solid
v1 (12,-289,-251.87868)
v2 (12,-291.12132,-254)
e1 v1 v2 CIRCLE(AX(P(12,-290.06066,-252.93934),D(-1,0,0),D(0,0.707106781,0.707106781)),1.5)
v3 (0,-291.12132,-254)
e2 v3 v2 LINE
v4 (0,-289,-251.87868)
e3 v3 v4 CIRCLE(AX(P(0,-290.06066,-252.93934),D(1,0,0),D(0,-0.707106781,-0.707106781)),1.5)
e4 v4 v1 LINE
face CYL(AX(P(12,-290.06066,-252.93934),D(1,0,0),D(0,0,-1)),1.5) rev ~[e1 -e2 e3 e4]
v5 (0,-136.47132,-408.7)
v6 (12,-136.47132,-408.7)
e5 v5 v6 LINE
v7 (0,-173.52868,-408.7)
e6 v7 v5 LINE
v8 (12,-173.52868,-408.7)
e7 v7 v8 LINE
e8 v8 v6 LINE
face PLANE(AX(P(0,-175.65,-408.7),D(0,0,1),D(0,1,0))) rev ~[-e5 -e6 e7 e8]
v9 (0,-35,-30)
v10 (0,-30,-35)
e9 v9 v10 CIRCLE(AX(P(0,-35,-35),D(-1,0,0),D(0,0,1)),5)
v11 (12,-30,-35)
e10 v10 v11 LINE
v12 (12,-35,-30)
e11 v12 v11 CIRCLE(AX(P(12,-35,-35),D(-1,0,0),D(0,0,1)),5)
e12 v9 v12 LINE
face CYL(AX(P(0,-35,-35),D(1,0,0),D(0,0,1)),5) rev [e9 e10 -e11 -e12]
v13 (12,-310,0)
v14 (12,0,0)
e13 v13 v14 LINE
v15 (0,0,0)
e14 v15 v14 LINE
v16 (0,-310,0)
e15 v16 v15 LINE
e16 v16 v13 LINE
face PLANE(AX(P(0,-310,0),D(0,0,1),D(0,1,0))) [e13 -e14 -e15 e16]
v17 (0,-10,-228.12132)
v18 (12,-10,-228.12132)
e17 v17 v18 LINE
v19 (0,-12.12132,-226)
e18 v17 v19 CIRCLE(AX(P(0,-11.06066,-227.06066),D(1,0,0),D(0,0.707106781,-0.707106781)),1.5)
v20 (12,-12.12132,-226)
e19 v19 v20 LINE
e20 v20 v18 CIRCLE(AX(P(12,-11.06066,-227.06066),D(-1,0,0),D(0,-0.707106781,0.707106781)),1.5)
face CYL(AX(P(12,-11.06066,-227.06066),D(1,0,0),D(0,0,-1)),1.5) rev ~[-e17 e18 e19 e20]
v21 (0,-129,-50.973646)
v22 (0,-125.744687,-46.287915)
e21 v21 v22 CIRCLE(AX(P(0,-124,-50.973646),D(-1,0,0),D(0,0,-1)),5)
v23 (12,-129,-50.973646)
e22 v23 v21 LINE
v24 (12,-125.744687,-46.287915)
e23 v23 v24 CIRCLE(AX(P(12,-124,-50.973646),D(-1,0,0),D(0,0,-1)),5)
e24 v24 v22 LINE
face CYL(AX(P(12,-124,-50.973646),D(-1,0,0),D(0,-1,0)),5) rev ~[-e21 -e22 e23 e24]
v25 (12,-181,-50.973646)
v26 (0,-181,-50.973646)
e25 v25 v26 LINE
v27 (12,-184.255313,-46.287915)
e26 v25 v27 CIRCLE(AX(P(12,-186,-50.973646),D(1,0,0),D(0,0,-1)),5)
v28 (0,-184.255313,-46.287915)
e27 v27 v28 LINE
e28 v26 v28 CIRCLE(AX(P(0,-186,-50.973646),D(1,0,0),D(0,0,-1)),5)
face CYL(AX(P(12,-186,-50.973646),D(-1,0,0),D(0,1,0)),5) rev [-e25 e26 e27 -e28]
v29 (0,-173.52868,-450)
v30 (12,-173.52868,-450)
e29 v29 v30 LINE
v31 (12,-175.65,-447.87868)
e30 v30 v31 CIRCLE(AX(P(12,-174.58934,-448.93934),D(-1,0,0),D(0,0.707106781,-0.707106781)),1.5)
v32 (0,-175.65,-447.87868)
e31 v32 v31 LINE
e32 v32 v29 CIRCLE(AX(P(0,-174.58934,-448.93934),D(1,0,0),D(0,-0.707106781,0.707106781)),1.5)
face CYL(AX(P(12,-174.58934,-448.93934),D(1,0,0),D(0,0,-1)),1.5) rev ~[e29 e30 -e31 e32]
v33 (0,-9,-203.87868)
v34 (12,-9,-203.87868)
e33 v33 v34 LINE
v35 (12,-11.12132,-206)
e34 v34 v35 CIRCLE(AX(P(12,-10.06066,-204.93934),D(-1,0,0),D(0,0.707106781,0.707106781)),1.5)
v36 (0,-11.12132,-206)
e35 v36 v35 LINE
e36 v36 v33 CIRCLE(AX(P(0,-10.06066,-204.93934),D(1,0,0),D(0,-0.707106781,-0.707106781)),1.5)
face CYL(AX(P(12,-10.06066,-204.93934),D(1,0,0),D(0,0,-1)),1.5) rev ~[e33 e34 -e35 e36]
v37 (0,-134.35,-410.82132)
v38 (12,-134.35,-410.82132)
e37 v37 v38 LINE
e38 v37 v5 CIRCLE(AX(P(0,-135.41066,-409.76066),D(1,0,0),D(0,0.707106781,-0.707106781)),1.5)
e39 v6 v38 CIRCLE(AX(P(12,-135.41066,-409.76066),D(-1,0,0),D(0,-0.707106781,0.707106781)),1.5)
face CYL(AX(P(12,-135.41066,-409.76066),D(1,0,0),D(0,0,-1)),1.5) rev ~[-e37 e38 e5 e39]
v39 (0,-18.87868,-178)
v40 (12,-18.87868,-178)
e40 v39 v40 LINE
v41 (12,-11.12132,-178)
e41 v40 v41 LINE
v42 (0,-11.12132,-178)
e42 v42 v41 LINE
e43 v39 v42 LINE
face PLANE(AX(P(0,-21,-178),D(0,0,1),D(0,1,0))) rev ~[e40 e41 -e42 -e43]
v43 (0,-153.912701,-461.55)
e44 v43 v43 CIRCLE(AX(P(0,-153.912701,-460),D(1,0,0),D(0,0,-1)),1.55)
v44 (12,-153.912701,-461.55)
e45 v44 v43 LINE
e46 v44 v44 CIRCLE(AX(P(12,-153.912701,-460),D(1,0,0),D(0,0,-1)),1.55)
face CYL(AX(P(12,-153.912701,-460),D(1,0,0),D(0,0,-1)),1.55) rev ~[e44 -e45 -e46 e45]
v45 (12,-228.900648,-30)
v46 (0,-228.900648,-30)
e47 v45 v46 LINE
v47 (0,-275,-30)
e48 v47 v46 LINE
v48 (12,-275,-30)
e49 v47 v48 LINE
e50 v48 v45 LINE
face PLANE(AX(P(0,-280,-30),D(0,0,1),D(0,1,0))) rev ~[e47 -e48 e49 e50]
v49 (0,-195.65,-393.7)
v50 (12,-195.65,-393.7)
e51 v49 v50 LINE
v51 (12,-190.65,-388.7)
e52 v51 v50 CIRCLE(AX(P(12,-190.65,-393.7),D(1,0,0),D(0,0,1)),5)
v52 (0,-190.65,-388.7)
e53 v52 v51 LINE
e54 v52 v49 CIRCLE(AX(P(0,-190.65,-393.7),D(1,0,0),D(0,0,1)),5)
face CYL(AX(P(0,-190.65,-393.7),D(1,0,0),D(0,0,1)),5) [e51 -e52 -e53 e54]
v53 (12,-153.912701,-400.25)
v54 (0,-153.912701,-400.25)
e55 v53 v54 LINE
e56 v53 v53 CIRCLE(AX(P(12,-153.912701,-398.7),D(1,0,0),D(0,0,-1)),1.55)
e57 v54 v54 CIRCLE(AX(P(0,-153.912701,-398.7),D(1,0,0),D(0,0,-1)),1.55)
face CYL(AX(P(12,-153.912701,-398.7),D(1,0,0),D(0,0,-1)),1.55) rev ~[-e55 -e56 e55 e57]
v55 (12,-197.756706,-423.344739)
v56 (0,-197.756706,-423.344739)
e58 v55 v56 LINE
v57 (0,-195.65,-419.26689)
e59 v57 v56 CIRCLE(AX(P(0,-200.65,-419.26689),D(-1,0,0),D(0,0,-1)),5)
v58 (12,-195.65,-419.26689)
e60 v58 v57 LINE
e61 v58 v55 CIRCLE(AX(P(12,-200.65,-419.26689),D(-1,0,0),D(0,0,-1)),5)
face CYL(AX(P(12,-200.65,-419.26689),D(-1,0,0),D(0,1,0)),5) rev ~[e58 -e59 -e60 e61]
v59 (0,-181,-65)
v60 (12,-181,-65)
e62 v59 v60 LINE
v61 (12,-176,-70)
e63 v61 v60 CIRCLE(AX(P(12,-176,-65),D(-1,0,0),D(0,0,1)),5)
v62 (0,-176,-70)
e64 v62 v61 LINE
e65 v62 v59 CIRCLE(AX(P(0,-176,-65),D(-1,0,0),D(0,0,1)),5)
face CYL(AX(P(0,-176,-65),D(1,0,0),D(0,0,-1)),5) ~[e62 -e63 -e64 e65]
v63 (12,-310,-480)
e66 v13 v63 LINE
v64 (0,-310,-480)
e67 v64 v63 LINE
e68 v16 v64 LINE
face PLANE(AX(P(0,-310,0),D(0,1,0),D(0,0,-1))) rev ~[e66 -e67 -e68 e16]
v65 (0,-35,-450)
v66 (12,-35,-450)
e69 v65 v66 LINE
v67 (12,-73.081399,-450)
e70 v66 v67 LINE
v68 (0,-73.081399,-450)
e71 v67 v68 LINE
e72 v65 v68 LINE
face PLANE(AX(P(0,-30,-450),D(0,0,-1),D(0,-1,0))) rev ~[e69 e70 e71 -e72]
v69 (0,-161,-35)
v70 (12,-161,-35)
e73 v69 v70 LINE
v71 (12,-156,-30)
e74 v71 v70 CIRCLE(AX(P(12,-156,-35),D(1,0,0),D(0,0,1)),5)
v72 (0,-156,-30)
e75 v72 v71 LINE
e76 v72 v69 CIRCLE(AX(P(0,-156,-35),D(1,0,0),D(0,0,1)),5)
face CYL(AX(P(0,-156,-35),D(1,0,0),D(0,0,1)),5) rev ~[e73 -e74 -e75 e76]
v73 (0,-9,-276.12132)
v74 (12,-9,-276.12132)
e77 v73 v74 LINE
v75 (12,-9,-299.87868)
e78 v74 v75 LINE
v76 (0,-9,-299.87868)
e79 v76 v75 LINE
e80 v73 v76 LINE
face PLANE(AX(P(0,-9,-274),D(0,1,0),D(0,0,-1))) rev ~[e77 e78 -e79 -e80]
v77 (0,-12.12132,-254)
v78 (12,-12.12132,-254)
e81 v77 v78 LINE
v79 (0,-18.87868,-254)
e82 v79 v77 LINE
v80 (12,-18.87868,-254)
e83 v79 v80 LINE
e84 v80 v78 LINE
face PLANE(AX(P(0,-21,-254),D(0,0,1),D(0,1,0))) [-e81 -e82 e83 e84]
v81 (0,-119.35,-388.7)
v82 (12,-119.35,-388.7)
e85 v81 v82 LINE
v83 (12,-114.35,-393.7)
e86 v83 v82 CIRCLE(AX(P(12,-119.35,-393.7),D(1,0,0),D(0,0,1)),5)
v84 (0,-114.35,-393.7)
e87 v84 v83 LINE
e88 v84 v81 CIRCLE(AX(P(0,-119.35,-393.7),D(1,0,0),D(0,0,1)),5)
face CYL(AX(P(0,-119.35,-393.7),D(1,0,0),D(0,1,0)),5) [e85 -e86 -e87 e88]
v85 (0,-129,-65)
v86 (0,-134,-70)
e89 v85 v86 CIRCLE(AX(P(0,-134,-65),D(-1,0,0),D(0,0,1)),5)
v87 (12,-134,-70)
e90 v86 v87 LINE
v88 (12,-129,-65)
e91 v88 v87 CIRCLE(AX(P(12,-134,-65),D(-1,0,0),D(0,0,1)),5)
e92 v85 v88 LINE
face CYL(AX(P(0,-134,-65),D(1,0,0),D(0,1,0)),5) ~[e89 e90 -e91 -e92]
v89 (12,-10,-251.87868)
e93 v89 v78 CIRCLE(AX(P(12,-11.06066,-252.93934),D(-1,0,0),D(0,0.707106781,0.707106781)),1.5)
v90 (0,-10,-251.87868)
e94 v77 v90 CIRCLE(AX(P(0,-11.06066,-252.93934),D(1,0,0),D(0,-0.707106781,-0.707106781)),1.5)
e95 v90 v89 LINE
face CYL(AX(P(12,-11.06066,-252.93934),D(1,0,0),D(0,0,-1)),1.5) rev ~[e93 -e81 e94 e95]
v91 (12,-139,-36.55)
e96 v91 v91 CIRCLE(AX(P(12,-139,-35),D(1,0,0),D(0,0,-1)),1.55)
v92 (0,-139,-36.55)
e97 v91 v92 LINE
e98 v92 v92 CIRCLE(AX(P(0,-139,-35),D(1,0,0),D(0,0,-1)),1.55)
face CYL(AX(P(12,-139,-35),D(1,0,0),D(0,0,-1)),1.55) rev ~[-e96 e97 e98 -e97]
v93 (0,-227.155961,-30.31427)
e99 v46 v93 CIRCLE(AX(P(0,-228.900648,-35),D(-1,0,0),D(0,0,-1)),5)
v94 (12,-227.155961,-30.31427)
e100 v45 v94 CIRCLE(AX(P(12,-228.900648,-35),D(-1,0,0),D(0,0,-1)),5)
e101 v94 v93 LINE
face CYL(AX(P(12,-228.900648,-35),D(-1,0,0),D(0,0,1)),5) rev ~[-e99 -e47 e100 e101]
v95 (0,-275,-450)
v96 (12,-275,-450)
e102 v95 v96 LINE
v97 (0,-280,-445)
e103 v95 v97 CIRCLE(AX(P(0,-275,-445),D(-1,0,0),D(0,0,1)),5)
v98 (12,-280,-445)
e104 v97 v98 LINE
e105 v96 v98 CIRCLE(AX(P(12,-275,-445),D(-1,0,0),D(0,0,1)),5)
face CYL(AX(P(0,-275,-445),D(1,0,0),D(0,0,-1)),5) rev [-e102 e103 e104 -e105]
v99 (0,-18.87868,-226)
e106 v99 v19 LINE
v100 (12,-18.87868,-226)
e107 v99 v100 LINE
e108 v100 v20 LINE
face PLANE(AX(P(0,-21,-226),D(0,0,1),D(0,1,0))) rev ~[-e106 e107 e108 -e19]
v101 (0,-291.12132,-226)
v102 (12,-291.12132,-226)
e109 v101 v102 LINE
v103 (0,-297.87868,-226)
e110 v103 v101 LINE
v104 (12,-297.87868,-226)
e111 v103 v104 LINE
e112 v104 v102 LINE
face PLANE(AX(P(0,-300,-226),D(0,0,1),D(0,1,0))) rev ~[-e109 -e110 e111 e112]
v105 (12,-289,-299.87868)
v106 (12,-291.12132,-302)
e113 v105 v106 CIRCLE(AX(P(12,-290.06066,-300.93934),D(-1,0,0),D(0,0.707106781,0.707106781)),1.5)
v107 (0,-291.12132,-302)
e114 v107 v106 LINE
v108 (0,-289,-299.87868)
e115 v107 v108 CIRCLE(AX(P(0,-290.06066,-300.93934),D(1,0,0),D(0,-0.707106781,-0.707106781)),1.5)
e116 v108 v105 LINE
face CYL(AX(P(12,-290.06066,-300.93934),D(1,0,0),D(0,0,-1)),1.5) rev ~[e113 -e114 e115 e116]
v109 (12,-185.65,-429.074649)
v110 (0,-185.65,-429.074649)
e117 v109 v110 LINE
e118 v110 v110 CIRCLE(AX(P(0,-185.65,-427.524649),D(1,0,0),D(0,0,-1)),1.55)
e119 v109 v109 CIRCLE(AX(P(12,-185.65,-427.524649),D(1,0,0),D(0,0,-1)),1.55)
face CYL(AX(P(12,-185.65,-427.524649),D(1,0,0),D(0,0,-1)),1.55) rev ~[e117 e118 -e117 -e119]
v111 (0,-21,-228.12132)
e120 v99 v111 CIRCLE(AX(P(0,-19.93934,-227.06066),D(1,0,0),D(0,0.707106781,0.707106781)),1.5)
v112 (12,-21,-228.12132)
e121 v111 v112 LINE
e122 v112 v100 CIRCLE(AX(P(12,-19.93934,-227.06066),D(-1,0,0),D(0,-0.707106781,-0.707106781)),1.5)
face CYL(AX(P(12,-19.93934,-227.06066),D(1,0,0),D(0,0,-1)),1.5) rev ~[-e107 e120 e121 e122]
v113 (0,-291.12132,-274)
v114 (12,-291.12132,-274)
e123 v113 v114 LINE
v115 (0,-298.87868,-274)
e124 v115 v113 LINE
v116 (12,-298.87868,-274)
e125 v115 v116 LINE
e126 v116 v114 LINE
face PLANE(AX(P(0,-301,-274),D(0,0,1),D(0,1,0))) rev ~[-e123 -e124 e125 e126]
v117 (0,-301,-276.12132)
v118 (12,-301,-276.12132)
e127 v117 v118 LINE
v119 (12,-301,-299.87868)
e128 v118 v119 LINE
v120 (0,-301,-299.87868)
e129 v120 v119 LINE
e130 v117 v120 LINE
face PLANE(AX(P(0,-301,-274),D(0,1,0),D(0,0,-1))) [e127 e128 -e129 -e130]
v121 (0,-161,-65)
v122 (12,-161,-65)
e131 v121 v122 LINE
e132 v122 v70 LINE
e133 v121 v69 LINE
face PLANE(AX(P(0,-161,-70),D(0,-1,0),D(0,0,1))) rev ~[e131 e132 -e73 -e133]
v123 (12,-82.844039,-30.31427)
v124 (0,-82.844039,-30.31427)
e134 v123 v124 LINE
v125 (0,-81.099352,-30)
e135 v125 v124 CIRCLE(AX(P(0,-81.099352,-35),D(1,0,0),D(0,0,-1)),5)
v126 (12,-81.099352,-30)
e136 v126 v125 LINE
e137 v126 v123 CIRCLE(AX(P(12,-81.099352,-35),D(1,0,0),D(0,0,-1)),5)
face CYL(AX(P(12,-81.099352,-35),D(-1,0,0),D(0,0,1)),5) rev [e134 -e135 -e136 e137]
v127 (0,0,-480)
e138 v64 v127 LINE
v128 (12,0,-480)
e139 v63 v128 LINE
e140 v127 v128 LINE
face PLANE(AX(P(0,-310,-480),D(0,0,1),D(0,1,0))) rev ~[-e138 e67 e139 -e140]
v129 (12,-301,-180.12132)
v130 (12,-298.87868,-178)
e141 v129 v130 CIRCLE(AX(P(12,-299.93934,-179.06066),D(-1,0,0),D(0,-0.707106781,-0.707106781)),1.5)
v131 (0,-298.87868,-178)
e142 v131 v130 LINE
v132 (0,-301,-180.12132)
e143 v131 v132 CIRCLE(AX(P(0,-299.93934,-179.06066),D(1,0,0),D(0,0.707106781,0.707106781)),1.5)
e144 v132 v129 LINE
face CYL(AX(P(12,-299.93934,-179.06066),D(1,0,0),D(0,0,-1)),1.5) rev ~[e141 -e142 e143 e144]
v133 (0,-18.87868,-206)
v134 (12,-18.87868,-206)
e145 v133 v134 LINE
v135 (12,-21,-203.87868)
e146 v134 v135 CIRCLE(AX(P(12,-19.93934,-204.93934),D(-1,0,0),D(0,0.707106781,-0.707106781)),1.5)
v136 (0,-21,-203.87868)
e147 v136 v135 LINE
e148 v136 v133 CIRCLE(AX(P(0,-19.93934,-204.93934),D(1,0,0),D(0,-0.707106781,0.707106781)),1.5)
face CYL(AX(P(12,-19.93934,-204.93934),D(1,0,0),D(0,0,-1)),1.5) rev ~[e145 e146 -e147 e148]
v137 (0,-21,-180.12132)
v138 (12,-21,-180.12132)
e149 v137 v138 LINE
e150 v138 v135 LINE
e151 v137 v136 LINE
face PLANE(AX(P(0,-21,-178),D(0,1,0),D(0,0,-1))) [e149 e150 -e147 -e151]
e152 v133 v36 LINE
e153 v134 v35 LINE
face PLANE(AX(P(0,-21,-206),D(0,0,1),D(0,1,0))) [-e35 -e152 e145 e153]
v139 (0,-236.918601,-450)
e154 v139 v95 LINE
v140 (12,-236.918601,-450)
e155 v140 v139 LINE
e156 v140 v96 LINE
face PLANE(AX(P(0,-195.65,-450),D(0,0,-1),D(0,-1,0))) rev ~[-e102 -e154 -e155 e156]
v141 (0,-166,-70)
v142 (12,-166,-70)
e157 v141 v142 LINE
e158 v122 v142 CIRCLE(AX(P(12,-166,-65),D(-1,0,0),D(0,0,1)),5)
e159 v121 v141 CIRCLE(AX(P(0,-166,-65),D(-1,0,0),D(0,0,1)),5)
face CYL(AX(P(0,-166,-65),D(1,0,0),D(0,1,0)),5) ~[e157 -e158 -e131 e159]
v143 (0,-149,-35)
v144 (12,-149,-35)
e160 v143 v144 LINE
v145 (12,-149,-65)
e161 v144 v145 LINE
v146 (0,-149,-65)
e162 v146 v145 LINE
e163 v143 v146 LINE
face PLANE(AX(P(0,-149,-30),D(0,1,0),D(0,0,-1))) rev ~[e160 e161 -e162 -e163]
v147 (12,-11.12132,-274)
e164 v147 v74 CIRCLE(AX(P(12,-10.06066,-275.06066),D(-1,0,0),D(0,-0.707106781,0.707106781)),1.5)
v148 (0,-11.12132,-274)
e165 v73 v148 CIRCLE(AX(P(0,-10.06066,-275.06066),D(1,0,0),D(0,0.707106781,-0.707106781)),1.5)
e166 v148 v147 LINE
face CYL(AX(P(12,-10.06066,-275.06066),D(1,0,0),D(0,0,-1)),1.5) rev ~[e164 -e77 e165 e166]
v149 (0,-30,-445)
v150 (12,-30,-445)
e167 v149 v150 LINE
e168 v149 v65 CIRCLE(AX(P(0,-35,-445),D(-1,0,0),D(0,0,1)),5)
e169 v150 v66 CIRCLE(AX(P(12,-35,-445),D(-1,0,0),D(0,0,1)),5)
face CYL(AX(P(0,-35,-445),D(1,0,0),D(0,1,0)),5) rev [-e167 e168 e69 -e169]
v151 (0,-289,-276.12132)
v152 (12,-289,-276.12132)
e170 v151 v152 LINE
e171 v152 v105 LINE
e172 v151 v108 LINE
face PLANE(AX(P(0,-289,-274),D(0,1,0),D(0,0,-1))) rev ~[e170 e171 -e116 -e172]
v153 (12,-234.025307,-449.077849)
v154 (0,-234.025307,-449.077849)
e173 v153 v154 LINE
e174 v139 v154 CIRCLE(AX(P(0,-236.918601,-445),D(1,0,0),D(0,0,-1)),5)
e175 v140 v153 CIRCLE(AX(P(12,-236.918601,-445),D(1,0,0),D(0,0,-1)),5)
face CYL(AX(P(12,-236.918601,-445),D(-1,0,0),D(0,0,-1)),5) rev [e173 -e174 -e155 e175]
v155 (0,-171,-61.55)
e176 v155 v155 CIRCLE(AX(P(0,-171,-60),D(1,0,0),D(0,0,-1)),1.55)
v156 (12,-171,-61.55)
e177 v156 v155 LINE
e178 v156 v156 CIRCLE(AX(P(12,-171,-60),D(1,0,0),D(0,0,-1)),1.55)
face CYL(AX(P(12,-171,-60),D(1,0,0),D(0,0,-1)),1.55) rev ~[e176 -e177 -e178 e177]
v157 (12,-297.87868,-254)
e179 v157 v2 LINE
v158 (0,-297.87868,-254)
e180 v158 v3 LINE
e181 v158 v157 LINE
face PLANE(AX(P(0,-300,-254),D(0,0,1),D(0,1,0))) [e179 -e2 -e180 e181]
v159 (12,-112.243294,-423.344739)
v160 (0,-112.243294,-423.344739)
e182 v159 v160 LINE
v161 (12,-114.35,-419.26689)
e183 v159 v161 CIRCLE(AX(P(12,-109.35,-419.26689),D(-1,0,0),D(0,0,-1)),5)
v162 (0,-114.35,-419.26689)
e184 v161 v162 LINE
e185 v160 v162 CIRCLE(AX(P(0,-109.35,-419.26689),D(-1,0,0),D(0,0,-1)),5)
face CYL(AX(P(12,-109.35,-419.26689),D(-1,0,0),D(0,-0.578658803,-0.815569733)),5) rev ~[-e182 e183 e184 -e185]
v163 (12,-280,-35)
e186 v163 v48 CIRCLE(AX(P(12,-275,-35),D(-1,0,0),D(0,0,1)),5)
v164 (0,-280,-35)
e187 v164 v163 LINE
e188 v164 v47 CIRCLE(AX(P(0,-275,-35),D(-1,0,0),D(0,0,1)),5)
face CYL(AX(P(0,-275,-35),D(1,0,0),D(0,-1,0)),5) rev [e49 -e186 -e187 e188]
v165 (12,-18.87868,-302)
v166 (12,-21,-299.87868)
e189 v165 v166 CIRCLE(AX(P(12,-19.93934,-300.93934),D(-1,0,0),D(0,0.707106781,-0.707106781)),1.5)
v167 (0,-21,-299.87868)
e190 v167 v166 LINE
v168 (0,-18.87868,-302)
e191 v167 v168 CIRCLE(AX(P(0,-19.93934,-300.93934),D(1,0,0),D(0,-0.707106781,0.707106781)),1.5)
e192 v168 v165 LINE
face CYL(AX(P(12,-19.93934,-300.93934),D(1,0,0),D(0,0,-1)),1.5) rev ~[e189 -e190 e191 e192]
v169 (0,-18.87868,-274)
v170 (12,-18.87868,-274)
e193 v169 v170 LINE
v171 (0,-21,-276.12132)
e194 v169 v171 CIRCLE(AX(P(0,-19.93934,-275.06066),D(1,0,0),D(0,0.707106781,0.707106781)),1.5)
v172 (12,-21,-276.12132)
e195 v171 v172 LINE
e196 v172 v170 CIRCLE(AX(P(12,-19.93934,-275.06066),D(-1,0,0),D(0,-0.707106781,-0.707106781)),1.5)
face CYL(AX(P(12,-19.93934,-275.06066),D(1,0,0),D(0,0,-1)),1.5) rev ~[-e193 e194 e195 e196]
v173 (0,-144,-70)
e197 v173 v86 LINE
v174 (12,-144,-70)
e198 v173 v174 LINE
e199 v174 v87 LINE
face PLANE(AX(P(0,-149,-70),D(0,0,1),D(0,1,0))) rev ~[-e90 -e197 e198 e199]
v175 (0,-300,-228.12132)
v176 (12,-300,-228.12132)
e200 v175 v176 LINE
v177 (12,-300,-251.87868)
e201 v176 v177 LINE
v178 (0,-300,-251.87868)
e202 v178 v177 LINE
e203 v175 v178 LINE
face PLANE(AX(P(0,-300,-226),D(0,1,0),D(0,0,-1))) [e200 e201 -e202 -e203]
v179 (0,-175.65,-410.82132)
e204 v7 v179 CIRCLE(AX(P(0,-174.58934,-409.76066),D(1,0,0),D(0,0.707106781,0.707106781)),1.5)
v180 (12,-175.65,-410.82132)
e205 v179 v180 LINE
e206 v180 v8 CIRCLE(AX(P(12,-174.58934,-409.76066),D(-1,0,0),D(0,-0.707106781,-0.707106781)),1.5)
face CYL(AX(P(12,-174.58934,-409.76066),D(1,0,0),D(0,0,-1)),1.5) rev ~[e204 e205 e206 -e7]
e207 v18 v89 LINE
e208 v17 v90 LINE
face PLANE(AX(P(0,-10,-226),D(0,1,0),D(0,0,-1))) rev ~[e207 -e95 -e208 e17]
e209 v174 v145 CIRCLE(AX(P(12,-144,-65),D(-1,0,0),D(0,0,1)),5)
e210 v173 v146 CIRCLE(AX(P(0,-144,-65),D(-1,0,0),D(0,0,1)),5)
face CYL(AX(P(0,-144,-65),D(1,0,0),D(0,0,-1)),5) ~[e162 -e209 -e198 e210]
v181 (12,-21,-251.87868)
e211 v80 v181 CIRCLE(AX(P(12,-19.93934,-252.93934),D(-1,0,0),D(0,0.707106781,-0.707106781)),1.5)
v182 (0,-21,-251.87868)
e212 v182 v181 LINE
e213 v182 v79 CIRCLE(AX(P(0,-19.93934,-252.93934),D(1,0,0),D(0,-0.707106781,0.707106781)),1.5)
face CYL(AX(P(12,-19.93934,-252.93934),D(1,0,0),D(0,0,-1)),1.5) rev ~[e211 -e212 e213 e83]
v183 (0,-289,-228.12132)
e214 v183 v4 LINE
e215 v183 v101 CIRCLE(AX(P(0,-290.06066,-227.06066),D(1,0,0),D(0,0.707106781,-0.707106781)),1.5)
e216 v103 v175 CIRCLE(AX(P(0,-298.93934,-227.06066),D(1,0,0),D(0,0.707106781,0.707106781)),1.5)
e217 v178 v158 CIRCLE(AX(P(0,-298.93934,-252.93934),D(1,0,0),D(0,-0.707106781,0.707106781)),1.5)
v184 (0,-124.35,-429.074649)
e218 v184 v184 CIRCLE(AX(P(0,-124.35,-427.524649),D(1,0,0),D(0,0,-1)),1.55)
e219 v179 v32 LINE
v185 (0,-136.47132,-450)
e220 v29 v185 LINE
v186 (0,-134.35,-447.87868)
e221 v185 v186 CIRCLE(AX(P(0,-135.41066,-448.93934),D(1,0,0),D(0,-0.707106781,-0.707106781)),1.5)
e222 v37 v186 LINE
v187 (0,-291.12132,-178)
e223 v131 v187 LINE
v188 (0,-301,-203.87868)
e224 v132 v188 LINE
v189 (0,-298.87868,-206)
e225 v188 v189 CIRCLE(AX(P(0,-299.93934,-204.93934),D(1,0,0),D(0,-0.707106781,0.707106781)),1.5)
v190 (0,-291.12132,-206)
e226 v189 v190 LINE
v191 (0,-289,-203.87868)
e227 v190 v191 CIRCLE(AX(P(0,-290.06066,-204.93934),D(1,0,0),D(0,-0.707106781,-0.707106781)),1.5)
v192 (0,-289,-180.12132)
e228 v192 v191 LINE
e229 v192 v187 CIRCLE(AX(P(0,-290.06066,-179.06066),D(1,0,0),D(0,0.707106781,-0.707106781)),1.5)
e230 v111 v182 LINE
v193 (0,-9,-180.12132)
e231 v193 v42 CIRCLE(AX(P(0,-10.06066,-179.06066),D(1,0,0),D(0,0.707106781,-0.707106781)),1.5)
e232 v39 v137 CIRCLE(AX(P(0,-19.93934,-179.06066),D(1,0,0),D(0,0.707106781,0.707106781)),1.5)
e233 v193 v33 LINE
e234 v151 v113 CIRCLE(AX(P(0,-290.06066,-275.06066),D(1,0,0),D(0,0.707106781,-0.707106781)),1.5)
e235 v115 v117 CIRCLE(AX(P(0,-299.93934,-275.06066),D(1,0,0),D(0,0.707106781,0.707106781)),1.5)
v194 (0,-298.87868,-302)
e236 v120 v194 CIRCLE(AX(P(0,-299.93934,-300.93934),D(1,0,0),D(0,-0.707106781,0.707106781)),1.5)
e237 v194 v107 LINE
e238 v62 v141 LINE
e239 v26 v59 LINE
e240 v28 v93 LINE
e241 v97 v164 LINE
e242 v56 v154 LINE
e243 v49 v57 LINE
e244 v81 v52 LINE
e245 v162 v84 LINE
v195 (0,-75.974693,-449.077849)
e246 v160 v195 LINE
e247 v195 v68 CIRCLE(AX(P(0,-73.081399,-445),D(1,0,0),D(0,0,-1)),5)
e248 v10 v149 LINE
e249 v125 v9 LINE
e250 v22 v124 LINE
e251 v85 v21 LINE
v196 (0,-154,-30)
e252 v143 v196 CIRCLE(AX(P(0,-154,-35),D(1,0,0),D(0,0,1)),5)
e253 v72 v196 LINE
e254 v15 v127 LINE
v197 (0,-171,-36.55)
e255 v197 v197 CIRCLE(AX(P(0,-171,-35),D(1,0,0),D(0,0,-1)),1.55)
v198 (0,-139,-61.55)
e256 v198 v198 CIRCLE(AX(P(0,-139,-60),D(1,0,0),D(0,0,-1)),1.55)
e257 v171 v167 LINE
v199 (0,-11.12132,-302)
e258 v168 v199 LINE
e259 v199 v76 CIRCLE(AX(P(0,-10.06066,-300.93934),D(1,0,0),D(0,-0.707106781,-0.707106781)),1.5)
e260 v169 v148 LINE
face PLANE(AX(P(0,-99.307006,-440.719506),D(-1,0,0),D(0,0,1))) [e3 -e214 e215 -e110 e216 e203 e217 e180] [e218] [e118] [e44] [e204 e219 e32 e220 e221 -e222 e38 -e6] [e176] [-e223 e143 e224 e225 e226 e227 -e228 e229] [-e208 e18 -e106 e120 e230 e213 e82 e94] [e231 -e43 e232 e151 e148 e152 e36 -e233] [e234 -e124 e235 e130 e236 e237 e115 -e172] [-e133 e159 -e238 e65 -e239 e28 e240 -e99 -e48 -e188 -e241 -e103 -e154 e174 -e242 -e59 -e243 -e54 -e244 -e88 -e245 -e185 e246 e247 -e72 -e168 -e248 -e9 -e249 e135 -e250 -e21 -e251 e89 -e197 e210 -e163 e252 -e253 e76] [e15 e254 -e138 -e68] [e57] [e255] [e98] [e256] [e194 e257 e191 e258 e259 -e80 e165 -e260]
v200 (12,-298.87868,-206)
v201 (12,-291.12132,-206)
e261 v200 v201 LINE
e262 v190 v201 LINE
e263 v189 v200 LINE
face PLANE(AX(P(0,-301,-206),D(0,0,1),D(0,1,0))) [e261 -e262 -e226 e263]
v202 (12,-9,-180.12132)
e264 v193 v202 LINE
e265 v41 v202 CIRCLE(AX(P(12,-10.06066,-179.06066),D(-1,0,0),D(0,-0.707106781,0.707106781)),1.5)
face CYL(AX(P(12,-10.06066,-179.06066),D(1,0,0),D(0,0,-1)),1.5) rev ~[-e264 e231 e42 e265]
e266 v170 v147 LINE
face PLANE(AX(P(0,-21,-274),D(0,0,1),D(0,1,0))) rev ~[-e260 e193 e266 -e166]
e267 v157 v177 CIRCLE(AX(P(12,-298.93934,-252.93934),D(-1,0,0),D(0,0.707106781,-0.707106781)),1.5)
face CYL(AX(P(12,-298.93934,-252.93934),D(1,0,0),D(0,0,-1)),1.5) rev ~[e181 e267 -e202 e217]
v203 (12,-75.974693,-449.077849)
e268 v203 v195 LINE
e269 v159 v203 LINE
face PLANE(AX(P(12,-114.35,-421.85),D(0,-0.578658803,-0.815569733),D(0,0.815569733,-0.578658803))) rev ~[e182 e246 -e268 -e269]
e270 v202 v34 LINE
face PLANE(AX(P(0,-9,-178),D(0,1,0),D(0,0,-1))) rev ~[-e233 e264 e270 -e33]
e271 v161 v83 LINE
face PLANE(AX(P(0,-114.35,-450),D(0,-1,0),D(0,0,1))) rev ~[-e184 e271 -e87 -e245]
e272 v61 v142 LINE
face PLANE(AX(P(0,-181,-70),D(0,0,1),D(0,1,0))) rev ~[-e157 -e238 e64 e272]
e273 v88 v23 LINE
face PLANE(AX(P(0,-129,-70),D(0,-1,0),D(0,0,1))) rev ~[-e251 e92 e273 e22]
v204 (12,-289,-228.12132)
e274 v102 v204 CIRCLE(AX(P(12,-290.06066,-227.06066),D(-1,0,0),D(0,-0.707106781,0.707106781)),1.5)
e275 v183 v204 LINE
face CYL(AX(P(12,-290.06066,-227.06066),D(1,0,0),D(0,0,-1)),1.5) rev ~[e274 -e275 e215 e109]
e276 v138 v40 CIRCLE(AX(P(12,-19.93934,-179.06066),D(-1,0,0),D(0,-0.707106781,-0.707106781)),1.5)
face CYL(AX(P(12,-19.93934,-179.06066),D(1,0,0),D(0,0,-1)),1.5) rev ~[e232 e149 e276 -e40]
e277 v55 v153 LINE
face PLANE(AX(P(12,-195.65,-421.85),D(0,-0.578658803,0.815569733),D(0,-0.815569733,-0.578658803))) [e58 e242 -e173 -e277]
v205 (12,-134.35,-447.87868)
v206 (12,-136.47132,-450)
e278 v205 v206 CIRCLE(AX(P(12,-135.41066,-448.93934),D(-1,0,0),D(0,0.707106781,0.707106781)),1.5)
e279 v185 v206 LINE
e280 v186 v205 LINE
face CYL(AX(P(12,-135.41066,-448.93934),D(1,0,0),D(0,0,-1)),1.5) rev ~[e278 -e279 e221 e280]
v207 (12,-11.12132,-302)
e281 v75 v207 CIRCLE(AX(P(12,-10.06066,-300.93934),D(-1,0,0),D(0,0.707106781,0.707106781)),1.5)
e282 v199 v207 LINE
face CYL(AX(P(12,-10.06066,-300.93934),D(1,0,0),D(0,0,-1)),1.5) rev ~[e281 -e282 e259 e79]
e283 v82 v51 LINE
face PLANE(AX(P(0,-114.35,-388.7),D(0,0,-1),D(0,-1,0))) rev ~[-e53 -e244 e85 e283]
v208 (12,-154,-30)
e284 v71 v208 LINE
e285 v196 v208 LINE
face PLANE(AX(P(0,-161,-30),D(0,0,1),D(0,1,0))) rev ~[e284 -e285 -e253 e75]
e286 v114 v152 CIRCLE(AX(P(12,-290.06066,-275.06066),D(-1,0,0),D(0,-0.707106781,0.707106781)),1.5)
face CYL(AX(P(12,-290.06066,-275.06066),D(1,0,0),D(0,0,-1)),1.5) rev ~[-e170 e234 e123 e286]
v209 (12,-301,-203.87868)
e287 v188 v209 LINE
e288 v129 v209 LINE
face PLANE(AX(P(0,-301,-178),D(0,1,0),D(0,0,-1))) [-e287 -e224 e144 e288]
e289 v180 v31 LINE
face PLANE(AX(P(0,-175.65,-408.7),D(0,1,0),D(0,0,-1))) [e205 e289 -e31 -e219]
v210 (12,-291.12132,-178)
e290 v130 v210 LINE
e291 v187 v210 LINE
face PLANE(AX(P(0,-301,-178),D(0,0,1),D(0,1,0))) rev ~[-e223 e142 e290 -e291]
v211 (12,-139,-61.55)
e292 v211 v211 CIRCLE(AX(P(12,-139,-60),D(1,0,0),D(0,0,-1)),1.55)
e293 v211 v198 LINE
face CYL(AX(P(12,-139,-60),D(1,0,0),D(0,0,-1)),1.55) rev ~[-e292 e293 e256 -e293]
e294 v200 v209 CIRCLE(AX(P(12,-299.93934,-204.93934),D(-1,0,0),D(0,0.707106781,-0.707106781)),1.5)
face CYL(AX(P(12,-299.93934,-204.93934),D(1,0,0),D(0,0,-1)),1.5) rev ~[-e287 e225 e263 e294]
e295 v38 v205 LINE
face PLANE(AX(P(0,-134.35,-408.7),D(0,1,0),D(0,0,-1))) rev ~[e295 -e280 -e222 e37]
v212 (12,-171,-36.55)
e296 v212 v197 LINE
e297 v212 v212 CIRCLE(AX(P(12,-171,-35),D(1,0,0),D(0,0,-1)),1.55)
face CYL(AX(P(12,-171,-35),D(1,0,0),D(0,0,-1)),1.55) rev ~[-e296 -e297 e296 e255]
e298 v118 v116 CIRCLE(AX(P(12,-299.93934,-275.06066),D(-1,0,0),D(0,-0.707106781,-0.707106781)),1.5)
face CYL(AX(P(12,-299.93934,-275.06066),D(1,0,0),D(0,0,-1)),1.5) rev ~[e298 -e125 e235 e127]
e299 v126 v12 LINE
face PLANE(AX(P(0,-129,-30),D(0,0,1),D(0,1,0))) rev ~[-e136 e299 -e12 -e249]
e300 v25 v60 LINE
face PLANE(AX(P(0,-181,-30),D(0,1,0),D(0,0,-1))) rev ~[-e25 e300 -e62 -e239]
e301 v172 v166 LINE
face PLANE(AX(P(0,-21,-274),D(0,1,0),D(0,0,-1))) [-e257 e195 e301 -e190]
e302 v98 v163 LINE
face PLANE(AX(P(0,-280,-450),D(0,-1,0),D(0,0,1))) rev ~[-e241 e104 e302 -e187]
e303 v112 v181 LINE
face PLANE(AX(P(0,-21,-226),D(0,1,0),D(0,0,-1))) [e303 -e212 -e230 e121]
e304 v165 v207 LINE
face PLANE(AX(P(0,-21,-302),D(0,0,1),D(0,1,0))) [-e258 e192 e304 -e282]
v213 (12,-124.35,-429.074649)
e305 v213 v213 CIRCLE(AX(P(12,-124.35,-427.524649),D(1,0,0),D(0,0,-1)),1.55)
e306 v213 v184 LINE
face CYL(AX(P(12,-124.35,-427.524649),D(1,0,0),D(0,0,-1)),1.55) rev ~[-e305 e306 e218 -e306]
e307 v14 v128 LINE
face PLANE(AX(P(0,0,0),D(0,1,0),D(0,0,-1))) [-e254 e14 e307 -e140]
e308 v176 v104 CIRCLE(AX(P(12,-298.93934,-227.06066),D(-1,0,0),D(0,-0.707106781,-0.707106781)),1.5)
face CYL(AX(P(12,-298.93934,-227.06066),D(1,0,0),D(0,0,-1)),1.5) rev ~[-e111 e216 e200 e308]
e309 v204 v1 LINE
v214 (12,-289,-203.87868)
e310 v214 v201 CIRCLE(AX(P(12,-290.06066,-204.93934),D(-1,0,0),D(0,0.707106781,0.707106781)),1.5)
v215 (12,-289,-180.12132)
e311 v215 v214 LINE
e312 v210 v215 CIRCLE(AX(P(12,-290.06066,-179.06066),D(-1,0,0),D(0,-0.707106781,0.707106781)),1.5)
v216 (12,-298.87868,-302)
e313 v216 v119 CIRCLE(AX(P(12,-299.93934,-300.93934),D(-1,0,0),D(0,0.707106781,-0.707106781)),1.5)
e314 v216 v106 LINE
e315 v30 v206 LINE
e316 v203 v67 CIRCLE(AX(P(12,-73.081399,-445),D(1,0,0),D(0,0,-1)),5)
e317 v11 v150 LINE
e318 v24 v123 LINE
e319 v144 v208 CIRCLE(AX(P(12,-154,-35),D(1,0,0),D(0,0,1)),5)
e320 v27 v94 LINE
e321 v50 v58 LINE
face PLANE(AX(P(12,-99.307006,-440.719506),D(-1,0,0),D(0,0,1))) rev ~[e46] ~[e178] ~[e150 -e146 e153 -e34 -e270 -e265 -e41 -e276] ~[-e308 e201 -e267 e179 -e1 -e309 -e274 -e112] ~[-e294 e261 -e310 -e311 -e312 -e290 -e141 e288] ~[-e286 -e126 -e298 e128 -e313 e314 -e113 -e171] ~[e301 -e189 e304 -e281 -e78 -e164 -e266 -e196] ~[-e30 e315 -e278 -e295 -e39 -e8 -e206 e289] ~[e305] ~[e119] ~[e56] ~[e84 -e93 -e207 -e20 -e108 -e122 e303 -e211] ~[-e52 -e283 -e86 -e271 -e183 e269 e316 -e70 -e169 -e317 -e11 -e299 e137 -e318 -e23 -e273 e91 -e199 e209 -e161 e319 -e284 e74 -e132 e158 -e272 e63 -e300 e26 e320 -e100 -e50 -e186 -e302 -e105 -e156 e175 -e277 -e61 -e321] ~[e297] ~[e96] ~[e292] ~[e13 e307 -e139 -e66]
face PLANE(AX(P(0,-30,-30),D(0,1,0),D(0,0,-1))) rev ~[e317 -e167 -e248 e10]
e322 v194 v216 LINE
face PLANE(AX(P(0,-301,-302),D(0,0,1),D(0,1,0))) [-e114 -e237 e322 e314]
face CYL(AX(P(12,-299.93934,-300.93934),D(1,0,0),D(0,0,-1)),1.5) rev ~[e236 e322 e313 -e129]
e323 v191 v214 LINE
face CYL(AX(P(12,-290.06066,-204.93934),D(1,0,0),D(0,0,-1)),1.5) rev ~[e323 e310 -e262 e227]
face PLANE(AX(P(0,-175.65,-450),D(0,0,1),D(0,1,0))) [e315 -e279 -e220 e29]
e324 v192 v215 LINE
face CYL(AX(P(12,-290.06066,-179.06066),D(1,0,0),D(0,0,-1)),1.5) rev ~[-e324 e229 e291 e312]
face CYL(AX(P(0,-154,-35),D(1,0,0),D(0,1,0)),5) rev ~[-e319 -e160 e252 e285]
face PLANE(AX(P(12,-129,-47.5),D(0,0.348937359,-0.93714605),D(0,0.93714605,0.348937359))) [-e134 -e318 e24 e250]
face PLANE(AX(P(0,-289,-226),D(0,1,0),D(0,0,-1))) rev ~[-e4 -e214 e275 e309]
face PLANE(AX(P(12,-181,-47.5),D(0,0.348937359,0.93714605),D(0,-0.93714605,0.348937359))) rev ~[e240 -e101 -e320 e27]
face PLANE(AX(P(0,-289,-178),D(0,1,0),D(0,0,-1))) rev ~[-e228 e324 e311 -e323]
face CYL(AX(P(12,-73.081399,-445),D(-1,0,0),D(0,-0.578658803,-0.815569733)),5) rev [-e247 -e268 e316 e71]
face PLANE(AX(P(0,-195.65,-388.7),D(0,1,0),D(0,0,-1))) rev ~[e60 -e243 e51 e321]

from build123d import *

# Parameters (mm, degrees)
CROQUIS1_W              = 480
CROQUIS1_H              = 310
CROQUIS1_W_2            = 28
CROQUIS1_H_2            = 12
CROQUIS1_H_3            = 11
CROQUIS1_W_3            = 41.3
CROQUIS1_H_4            = 41.3
SALIENTE_EXTRUIR1_DEPTH = 12
SKETCH1_R               = 1.5
CUT_EXTRUDE1_DEPTH      = 572.527777103
SKETCH2_R               = 1.55
CUT_EXTRUDE2_DEPTH      = 12
FILLET1_R               = 5
SKETCH3_R               = 1.55
CUT_EXTRUDE3_DEPTH      = 12
BOSS_EXTRUDE1_DEPTH     = 12
FILLET2_R               = 5


with BuildPart() as part:
    # Croquis1 → Saliente-Extruir1 (new body)
    with BuildSketch(Plane(origin=(0, 0, 0), x_dir=(0, 0, -1), z_dir=(1, 0, 0))):
        with Locations((240, -155)):
            Rectangle(CROQUIS1_W, CROQUIS1_H)
        Polygon((30, -30), (450, -30), (450, -114.35), (388.7, -114.35), (388.7, -195.65), (450, -195.65), (450, -280), (30, -280), (30, -181), (70, -181), (70, -161), (30, -161), (30, -149), (70, -149), (70, -129), (30, -129), align=None, mode=Mode.SUBTRACT)
        with Locations((288, -295)):
            Rectangle(CROQUIS1_W_2, CROQUIS1_H_2, mode=Mode.SUBTRACT)
        with Locations((240, -294.5)):
            Rectangle(CROQUIS1_W_2, CROQUIS1_H_3, mode=Mode.SUBTRACT)
        with Locations((192, -295)):
            Rectangle(CROQUIS1_W_2, CROQUIS1_H_2, mode=Mode.SUBTRACT)
        with Locations((192, -15)):
            Rectangle(CROQUIS1_W_2, CROQUIS1_H_2, mode=Mode.SUBTRACT)
        with Locations((288, -15)):
            Rectangle(CROQUIS1_W_2, CROQUIS1_H_2, mode=Mode.SUBTRACT)
        with Locations((240, -15.5)):
            Rectangle(CROQUIS1_W_2, CROQUIS1_H_3, mode=Mode.SUBTRACT)
        with Locations((429.35, -155)):
            Rectangle(CROQUIS1_W_3, CROQUIS1_H_4, mode=Mode.SUBTRACT)
    extrude(amount=SALIENTE_EXTRUIR1_DEPTH)

    # Sketch1 → Cut-Extrude1 (cut, through all)
    with BuildSketch(Plane(origin=(12, 0, 0), x_dir=(0, 0, -1), z_dir=(1, 0, 0))):
        with Locations((204.939339828, -10.060660172)):
            Circle(SKETCH1_R)
        with Locations((179.060660172, -10.060660172)):
            Circle(SKETCH1_R)
        with Locations((227.060660172, -11.060660172)):
            Circle(SKETCH1_R)
        with Locations((227.060660172, -19.939339828)):
            Circle(SKETCH1_R)
        with Locations((252.939339828, -11.060660172)):
            Circle(SKETCH1_R)
        with Locations((252.939339828, -19.939339828)):
            Circle(SKETCH1_R)
        with Locations((275.060660172, -10.060660172)):
            Circle(SKETCH1_R)
        with Locations((275.060660172, -19.939339828)):
            Circle(SKETCH1_R)
        with Locations((300.939339828, -19.939339828)):
            Circle(SKETCH1_R)
        with Locations((300.939339828, -10.060660172)):
            Circle(SKETCH1_R)
        with Locations((409.760660172, -135.410660172)):
            Circle(SKETCH1_R)
        with Locations((448.939339828, -135.410660172)):
            Circle(SKETCH1_R)
        with Locations((448.939339828, -174.589339828)):
            Circle(SKETCH1_R)
        with Locations((409.760660172, -174.589339828)):
            Circle(SKETCH1_R)
        with Locations((179.060660172, -19.939339828)):
            Circle(SKETCH1_R)
        with Locations((204.939339828, -19.939339828)):
            Circle(SKETCH1_R)
        with Locations((204.939339828, -290.060660172)):
            Circle(SKETCH1_R)
        with Locations((179.060660172, -290.060660172)):
            Circle(SKETCH1_R)
        with Locations((300.939339828, -299.939339828)):
            Circle(SKETCH1_R)
        with Locations((300.939339828, -290.060660172)):
            Circle(SKETCH1_R)
        with Locations((275.060660172, -290.060660172)):
            Circle(SKETCH1_R)
        with Locations((275.060660172, -299.939339828)):
            Circle(SKETCH1_R)
        with Locations((252.939339828, -290.060660172)):
            Circle(SKETCH1_R)
        with Locations((252.939339828, -298.939339828)):
            Circle(SKETCH1_R)
        with Locations((227.060660172, -290.060660172)):
            Circle(SKETCH1_R)
        with Locations((227.060660172, -298.939339828)):
            Circle(SKETCH1_R)
        with Locations((179.060660172, -299.939339828)):
            Circle(SKETCH1_R)
        with Locations((204.939339828, -299.939339828)):
            Circle(SKETCH1_R)
    extrude(amount=-CUT_EXTRUDE1_DEPTH, mode=Mode.SUBTRACT)

    # Sketch2 → Cut-Extrude2 (cut)
    with BuildSketch(Plane(origin=(12, 0, 0), x_dir=(0, 0, -1), z_dir=(1, 0, 0))):
        with Locations((60, -171)):
            Circle(SKETCH2_R)
        with Locations((35, -171)):
            Circle(SKETCH2_R)
        with Locations((35, -139)):
            Circle(SKETCH2_R)
        with Locations((60, -139)):
            Circle(SKETCH2_R)
    extrude(amount=-CUT_EXTRUDE2_DEPTH, mode=Mode.SUBTRACT)

    # Fillet1
    fillet1_edges = [part.edges().sort_by_distance(p)[0] for p in [
        (6, -30, -30),
        (6, -129, -70),
        (6, -149, -70),
        (6, -149, -30),
        (6, -161, -30),
        (6, -161, -70),
        (6, -181, -70),
        (6, -280, -30),
        (6, -280, -450),
        (6, -195.65, -388.7),
        (6, -114.35, -388.7),
        (6, -30, -450),
    ]]
    fillet(fillet1_edges, radius=FILLET1_R)

    # Sketch3 → Cut-Extrude3 (cut)
    with BuildSketch(Plane(origin=(12, 0, 0), x_dir=(0, 0, -1), z_dir=(1, 0, 0))):
        with Locations((427.52464912, -185.65)):
            Circle(SKETCH3_R)
        with Locations((460, -153.912701142)):
            Circle(SKETCH3_R)
        with Locations((427.52464912, -124.35)):
            Circle(SKETCH3_R)
        with Locations((398.7, -153.912701142)):
            Circle(SKETCH3_R)
    extrude(amount=-CUT_EXTRUDE3_DEPTH, mode=Mode.SUBTRACT)

    # Sketch4 → Boss-Extrude1 (add)
    with BuildSketch(Plane(origin=(12, 0, 0), x_dir=(0, 0, -1), z_dir=(1, 0, 0))):
        Polygon((421.85, -114.35), (450, -74.675), (450, -114.35), align=None)
        Polygon((421.85, -195.65), (450, -235.325), (450, -195.65), align=None)
        Polygon((47.5, -129), (30, -82), (30, -129), align=None)
        Polygon((47.5, -181), (30, -228), (30, -181), align=None)
    extrude(amount=-BOSS_EXTRUDE1_DEPTH)

    # Fillet2
    fillet2_edges = [part.edges().sort_by_distance(p)[0] for p in [
        (6, -114.35, -421.85),
        (6, -74.675, -450),
        (6, -195.65, -421.85),
        (6, -235.325, -450),
        (6, -129, -47.5),
        (6, -82, -30),
        (6, -181, -47.5),
        (6, -228, -30),
    ]]
    fillet(fillet2_edges, radius=FILLET2_R)


solid = part.part
